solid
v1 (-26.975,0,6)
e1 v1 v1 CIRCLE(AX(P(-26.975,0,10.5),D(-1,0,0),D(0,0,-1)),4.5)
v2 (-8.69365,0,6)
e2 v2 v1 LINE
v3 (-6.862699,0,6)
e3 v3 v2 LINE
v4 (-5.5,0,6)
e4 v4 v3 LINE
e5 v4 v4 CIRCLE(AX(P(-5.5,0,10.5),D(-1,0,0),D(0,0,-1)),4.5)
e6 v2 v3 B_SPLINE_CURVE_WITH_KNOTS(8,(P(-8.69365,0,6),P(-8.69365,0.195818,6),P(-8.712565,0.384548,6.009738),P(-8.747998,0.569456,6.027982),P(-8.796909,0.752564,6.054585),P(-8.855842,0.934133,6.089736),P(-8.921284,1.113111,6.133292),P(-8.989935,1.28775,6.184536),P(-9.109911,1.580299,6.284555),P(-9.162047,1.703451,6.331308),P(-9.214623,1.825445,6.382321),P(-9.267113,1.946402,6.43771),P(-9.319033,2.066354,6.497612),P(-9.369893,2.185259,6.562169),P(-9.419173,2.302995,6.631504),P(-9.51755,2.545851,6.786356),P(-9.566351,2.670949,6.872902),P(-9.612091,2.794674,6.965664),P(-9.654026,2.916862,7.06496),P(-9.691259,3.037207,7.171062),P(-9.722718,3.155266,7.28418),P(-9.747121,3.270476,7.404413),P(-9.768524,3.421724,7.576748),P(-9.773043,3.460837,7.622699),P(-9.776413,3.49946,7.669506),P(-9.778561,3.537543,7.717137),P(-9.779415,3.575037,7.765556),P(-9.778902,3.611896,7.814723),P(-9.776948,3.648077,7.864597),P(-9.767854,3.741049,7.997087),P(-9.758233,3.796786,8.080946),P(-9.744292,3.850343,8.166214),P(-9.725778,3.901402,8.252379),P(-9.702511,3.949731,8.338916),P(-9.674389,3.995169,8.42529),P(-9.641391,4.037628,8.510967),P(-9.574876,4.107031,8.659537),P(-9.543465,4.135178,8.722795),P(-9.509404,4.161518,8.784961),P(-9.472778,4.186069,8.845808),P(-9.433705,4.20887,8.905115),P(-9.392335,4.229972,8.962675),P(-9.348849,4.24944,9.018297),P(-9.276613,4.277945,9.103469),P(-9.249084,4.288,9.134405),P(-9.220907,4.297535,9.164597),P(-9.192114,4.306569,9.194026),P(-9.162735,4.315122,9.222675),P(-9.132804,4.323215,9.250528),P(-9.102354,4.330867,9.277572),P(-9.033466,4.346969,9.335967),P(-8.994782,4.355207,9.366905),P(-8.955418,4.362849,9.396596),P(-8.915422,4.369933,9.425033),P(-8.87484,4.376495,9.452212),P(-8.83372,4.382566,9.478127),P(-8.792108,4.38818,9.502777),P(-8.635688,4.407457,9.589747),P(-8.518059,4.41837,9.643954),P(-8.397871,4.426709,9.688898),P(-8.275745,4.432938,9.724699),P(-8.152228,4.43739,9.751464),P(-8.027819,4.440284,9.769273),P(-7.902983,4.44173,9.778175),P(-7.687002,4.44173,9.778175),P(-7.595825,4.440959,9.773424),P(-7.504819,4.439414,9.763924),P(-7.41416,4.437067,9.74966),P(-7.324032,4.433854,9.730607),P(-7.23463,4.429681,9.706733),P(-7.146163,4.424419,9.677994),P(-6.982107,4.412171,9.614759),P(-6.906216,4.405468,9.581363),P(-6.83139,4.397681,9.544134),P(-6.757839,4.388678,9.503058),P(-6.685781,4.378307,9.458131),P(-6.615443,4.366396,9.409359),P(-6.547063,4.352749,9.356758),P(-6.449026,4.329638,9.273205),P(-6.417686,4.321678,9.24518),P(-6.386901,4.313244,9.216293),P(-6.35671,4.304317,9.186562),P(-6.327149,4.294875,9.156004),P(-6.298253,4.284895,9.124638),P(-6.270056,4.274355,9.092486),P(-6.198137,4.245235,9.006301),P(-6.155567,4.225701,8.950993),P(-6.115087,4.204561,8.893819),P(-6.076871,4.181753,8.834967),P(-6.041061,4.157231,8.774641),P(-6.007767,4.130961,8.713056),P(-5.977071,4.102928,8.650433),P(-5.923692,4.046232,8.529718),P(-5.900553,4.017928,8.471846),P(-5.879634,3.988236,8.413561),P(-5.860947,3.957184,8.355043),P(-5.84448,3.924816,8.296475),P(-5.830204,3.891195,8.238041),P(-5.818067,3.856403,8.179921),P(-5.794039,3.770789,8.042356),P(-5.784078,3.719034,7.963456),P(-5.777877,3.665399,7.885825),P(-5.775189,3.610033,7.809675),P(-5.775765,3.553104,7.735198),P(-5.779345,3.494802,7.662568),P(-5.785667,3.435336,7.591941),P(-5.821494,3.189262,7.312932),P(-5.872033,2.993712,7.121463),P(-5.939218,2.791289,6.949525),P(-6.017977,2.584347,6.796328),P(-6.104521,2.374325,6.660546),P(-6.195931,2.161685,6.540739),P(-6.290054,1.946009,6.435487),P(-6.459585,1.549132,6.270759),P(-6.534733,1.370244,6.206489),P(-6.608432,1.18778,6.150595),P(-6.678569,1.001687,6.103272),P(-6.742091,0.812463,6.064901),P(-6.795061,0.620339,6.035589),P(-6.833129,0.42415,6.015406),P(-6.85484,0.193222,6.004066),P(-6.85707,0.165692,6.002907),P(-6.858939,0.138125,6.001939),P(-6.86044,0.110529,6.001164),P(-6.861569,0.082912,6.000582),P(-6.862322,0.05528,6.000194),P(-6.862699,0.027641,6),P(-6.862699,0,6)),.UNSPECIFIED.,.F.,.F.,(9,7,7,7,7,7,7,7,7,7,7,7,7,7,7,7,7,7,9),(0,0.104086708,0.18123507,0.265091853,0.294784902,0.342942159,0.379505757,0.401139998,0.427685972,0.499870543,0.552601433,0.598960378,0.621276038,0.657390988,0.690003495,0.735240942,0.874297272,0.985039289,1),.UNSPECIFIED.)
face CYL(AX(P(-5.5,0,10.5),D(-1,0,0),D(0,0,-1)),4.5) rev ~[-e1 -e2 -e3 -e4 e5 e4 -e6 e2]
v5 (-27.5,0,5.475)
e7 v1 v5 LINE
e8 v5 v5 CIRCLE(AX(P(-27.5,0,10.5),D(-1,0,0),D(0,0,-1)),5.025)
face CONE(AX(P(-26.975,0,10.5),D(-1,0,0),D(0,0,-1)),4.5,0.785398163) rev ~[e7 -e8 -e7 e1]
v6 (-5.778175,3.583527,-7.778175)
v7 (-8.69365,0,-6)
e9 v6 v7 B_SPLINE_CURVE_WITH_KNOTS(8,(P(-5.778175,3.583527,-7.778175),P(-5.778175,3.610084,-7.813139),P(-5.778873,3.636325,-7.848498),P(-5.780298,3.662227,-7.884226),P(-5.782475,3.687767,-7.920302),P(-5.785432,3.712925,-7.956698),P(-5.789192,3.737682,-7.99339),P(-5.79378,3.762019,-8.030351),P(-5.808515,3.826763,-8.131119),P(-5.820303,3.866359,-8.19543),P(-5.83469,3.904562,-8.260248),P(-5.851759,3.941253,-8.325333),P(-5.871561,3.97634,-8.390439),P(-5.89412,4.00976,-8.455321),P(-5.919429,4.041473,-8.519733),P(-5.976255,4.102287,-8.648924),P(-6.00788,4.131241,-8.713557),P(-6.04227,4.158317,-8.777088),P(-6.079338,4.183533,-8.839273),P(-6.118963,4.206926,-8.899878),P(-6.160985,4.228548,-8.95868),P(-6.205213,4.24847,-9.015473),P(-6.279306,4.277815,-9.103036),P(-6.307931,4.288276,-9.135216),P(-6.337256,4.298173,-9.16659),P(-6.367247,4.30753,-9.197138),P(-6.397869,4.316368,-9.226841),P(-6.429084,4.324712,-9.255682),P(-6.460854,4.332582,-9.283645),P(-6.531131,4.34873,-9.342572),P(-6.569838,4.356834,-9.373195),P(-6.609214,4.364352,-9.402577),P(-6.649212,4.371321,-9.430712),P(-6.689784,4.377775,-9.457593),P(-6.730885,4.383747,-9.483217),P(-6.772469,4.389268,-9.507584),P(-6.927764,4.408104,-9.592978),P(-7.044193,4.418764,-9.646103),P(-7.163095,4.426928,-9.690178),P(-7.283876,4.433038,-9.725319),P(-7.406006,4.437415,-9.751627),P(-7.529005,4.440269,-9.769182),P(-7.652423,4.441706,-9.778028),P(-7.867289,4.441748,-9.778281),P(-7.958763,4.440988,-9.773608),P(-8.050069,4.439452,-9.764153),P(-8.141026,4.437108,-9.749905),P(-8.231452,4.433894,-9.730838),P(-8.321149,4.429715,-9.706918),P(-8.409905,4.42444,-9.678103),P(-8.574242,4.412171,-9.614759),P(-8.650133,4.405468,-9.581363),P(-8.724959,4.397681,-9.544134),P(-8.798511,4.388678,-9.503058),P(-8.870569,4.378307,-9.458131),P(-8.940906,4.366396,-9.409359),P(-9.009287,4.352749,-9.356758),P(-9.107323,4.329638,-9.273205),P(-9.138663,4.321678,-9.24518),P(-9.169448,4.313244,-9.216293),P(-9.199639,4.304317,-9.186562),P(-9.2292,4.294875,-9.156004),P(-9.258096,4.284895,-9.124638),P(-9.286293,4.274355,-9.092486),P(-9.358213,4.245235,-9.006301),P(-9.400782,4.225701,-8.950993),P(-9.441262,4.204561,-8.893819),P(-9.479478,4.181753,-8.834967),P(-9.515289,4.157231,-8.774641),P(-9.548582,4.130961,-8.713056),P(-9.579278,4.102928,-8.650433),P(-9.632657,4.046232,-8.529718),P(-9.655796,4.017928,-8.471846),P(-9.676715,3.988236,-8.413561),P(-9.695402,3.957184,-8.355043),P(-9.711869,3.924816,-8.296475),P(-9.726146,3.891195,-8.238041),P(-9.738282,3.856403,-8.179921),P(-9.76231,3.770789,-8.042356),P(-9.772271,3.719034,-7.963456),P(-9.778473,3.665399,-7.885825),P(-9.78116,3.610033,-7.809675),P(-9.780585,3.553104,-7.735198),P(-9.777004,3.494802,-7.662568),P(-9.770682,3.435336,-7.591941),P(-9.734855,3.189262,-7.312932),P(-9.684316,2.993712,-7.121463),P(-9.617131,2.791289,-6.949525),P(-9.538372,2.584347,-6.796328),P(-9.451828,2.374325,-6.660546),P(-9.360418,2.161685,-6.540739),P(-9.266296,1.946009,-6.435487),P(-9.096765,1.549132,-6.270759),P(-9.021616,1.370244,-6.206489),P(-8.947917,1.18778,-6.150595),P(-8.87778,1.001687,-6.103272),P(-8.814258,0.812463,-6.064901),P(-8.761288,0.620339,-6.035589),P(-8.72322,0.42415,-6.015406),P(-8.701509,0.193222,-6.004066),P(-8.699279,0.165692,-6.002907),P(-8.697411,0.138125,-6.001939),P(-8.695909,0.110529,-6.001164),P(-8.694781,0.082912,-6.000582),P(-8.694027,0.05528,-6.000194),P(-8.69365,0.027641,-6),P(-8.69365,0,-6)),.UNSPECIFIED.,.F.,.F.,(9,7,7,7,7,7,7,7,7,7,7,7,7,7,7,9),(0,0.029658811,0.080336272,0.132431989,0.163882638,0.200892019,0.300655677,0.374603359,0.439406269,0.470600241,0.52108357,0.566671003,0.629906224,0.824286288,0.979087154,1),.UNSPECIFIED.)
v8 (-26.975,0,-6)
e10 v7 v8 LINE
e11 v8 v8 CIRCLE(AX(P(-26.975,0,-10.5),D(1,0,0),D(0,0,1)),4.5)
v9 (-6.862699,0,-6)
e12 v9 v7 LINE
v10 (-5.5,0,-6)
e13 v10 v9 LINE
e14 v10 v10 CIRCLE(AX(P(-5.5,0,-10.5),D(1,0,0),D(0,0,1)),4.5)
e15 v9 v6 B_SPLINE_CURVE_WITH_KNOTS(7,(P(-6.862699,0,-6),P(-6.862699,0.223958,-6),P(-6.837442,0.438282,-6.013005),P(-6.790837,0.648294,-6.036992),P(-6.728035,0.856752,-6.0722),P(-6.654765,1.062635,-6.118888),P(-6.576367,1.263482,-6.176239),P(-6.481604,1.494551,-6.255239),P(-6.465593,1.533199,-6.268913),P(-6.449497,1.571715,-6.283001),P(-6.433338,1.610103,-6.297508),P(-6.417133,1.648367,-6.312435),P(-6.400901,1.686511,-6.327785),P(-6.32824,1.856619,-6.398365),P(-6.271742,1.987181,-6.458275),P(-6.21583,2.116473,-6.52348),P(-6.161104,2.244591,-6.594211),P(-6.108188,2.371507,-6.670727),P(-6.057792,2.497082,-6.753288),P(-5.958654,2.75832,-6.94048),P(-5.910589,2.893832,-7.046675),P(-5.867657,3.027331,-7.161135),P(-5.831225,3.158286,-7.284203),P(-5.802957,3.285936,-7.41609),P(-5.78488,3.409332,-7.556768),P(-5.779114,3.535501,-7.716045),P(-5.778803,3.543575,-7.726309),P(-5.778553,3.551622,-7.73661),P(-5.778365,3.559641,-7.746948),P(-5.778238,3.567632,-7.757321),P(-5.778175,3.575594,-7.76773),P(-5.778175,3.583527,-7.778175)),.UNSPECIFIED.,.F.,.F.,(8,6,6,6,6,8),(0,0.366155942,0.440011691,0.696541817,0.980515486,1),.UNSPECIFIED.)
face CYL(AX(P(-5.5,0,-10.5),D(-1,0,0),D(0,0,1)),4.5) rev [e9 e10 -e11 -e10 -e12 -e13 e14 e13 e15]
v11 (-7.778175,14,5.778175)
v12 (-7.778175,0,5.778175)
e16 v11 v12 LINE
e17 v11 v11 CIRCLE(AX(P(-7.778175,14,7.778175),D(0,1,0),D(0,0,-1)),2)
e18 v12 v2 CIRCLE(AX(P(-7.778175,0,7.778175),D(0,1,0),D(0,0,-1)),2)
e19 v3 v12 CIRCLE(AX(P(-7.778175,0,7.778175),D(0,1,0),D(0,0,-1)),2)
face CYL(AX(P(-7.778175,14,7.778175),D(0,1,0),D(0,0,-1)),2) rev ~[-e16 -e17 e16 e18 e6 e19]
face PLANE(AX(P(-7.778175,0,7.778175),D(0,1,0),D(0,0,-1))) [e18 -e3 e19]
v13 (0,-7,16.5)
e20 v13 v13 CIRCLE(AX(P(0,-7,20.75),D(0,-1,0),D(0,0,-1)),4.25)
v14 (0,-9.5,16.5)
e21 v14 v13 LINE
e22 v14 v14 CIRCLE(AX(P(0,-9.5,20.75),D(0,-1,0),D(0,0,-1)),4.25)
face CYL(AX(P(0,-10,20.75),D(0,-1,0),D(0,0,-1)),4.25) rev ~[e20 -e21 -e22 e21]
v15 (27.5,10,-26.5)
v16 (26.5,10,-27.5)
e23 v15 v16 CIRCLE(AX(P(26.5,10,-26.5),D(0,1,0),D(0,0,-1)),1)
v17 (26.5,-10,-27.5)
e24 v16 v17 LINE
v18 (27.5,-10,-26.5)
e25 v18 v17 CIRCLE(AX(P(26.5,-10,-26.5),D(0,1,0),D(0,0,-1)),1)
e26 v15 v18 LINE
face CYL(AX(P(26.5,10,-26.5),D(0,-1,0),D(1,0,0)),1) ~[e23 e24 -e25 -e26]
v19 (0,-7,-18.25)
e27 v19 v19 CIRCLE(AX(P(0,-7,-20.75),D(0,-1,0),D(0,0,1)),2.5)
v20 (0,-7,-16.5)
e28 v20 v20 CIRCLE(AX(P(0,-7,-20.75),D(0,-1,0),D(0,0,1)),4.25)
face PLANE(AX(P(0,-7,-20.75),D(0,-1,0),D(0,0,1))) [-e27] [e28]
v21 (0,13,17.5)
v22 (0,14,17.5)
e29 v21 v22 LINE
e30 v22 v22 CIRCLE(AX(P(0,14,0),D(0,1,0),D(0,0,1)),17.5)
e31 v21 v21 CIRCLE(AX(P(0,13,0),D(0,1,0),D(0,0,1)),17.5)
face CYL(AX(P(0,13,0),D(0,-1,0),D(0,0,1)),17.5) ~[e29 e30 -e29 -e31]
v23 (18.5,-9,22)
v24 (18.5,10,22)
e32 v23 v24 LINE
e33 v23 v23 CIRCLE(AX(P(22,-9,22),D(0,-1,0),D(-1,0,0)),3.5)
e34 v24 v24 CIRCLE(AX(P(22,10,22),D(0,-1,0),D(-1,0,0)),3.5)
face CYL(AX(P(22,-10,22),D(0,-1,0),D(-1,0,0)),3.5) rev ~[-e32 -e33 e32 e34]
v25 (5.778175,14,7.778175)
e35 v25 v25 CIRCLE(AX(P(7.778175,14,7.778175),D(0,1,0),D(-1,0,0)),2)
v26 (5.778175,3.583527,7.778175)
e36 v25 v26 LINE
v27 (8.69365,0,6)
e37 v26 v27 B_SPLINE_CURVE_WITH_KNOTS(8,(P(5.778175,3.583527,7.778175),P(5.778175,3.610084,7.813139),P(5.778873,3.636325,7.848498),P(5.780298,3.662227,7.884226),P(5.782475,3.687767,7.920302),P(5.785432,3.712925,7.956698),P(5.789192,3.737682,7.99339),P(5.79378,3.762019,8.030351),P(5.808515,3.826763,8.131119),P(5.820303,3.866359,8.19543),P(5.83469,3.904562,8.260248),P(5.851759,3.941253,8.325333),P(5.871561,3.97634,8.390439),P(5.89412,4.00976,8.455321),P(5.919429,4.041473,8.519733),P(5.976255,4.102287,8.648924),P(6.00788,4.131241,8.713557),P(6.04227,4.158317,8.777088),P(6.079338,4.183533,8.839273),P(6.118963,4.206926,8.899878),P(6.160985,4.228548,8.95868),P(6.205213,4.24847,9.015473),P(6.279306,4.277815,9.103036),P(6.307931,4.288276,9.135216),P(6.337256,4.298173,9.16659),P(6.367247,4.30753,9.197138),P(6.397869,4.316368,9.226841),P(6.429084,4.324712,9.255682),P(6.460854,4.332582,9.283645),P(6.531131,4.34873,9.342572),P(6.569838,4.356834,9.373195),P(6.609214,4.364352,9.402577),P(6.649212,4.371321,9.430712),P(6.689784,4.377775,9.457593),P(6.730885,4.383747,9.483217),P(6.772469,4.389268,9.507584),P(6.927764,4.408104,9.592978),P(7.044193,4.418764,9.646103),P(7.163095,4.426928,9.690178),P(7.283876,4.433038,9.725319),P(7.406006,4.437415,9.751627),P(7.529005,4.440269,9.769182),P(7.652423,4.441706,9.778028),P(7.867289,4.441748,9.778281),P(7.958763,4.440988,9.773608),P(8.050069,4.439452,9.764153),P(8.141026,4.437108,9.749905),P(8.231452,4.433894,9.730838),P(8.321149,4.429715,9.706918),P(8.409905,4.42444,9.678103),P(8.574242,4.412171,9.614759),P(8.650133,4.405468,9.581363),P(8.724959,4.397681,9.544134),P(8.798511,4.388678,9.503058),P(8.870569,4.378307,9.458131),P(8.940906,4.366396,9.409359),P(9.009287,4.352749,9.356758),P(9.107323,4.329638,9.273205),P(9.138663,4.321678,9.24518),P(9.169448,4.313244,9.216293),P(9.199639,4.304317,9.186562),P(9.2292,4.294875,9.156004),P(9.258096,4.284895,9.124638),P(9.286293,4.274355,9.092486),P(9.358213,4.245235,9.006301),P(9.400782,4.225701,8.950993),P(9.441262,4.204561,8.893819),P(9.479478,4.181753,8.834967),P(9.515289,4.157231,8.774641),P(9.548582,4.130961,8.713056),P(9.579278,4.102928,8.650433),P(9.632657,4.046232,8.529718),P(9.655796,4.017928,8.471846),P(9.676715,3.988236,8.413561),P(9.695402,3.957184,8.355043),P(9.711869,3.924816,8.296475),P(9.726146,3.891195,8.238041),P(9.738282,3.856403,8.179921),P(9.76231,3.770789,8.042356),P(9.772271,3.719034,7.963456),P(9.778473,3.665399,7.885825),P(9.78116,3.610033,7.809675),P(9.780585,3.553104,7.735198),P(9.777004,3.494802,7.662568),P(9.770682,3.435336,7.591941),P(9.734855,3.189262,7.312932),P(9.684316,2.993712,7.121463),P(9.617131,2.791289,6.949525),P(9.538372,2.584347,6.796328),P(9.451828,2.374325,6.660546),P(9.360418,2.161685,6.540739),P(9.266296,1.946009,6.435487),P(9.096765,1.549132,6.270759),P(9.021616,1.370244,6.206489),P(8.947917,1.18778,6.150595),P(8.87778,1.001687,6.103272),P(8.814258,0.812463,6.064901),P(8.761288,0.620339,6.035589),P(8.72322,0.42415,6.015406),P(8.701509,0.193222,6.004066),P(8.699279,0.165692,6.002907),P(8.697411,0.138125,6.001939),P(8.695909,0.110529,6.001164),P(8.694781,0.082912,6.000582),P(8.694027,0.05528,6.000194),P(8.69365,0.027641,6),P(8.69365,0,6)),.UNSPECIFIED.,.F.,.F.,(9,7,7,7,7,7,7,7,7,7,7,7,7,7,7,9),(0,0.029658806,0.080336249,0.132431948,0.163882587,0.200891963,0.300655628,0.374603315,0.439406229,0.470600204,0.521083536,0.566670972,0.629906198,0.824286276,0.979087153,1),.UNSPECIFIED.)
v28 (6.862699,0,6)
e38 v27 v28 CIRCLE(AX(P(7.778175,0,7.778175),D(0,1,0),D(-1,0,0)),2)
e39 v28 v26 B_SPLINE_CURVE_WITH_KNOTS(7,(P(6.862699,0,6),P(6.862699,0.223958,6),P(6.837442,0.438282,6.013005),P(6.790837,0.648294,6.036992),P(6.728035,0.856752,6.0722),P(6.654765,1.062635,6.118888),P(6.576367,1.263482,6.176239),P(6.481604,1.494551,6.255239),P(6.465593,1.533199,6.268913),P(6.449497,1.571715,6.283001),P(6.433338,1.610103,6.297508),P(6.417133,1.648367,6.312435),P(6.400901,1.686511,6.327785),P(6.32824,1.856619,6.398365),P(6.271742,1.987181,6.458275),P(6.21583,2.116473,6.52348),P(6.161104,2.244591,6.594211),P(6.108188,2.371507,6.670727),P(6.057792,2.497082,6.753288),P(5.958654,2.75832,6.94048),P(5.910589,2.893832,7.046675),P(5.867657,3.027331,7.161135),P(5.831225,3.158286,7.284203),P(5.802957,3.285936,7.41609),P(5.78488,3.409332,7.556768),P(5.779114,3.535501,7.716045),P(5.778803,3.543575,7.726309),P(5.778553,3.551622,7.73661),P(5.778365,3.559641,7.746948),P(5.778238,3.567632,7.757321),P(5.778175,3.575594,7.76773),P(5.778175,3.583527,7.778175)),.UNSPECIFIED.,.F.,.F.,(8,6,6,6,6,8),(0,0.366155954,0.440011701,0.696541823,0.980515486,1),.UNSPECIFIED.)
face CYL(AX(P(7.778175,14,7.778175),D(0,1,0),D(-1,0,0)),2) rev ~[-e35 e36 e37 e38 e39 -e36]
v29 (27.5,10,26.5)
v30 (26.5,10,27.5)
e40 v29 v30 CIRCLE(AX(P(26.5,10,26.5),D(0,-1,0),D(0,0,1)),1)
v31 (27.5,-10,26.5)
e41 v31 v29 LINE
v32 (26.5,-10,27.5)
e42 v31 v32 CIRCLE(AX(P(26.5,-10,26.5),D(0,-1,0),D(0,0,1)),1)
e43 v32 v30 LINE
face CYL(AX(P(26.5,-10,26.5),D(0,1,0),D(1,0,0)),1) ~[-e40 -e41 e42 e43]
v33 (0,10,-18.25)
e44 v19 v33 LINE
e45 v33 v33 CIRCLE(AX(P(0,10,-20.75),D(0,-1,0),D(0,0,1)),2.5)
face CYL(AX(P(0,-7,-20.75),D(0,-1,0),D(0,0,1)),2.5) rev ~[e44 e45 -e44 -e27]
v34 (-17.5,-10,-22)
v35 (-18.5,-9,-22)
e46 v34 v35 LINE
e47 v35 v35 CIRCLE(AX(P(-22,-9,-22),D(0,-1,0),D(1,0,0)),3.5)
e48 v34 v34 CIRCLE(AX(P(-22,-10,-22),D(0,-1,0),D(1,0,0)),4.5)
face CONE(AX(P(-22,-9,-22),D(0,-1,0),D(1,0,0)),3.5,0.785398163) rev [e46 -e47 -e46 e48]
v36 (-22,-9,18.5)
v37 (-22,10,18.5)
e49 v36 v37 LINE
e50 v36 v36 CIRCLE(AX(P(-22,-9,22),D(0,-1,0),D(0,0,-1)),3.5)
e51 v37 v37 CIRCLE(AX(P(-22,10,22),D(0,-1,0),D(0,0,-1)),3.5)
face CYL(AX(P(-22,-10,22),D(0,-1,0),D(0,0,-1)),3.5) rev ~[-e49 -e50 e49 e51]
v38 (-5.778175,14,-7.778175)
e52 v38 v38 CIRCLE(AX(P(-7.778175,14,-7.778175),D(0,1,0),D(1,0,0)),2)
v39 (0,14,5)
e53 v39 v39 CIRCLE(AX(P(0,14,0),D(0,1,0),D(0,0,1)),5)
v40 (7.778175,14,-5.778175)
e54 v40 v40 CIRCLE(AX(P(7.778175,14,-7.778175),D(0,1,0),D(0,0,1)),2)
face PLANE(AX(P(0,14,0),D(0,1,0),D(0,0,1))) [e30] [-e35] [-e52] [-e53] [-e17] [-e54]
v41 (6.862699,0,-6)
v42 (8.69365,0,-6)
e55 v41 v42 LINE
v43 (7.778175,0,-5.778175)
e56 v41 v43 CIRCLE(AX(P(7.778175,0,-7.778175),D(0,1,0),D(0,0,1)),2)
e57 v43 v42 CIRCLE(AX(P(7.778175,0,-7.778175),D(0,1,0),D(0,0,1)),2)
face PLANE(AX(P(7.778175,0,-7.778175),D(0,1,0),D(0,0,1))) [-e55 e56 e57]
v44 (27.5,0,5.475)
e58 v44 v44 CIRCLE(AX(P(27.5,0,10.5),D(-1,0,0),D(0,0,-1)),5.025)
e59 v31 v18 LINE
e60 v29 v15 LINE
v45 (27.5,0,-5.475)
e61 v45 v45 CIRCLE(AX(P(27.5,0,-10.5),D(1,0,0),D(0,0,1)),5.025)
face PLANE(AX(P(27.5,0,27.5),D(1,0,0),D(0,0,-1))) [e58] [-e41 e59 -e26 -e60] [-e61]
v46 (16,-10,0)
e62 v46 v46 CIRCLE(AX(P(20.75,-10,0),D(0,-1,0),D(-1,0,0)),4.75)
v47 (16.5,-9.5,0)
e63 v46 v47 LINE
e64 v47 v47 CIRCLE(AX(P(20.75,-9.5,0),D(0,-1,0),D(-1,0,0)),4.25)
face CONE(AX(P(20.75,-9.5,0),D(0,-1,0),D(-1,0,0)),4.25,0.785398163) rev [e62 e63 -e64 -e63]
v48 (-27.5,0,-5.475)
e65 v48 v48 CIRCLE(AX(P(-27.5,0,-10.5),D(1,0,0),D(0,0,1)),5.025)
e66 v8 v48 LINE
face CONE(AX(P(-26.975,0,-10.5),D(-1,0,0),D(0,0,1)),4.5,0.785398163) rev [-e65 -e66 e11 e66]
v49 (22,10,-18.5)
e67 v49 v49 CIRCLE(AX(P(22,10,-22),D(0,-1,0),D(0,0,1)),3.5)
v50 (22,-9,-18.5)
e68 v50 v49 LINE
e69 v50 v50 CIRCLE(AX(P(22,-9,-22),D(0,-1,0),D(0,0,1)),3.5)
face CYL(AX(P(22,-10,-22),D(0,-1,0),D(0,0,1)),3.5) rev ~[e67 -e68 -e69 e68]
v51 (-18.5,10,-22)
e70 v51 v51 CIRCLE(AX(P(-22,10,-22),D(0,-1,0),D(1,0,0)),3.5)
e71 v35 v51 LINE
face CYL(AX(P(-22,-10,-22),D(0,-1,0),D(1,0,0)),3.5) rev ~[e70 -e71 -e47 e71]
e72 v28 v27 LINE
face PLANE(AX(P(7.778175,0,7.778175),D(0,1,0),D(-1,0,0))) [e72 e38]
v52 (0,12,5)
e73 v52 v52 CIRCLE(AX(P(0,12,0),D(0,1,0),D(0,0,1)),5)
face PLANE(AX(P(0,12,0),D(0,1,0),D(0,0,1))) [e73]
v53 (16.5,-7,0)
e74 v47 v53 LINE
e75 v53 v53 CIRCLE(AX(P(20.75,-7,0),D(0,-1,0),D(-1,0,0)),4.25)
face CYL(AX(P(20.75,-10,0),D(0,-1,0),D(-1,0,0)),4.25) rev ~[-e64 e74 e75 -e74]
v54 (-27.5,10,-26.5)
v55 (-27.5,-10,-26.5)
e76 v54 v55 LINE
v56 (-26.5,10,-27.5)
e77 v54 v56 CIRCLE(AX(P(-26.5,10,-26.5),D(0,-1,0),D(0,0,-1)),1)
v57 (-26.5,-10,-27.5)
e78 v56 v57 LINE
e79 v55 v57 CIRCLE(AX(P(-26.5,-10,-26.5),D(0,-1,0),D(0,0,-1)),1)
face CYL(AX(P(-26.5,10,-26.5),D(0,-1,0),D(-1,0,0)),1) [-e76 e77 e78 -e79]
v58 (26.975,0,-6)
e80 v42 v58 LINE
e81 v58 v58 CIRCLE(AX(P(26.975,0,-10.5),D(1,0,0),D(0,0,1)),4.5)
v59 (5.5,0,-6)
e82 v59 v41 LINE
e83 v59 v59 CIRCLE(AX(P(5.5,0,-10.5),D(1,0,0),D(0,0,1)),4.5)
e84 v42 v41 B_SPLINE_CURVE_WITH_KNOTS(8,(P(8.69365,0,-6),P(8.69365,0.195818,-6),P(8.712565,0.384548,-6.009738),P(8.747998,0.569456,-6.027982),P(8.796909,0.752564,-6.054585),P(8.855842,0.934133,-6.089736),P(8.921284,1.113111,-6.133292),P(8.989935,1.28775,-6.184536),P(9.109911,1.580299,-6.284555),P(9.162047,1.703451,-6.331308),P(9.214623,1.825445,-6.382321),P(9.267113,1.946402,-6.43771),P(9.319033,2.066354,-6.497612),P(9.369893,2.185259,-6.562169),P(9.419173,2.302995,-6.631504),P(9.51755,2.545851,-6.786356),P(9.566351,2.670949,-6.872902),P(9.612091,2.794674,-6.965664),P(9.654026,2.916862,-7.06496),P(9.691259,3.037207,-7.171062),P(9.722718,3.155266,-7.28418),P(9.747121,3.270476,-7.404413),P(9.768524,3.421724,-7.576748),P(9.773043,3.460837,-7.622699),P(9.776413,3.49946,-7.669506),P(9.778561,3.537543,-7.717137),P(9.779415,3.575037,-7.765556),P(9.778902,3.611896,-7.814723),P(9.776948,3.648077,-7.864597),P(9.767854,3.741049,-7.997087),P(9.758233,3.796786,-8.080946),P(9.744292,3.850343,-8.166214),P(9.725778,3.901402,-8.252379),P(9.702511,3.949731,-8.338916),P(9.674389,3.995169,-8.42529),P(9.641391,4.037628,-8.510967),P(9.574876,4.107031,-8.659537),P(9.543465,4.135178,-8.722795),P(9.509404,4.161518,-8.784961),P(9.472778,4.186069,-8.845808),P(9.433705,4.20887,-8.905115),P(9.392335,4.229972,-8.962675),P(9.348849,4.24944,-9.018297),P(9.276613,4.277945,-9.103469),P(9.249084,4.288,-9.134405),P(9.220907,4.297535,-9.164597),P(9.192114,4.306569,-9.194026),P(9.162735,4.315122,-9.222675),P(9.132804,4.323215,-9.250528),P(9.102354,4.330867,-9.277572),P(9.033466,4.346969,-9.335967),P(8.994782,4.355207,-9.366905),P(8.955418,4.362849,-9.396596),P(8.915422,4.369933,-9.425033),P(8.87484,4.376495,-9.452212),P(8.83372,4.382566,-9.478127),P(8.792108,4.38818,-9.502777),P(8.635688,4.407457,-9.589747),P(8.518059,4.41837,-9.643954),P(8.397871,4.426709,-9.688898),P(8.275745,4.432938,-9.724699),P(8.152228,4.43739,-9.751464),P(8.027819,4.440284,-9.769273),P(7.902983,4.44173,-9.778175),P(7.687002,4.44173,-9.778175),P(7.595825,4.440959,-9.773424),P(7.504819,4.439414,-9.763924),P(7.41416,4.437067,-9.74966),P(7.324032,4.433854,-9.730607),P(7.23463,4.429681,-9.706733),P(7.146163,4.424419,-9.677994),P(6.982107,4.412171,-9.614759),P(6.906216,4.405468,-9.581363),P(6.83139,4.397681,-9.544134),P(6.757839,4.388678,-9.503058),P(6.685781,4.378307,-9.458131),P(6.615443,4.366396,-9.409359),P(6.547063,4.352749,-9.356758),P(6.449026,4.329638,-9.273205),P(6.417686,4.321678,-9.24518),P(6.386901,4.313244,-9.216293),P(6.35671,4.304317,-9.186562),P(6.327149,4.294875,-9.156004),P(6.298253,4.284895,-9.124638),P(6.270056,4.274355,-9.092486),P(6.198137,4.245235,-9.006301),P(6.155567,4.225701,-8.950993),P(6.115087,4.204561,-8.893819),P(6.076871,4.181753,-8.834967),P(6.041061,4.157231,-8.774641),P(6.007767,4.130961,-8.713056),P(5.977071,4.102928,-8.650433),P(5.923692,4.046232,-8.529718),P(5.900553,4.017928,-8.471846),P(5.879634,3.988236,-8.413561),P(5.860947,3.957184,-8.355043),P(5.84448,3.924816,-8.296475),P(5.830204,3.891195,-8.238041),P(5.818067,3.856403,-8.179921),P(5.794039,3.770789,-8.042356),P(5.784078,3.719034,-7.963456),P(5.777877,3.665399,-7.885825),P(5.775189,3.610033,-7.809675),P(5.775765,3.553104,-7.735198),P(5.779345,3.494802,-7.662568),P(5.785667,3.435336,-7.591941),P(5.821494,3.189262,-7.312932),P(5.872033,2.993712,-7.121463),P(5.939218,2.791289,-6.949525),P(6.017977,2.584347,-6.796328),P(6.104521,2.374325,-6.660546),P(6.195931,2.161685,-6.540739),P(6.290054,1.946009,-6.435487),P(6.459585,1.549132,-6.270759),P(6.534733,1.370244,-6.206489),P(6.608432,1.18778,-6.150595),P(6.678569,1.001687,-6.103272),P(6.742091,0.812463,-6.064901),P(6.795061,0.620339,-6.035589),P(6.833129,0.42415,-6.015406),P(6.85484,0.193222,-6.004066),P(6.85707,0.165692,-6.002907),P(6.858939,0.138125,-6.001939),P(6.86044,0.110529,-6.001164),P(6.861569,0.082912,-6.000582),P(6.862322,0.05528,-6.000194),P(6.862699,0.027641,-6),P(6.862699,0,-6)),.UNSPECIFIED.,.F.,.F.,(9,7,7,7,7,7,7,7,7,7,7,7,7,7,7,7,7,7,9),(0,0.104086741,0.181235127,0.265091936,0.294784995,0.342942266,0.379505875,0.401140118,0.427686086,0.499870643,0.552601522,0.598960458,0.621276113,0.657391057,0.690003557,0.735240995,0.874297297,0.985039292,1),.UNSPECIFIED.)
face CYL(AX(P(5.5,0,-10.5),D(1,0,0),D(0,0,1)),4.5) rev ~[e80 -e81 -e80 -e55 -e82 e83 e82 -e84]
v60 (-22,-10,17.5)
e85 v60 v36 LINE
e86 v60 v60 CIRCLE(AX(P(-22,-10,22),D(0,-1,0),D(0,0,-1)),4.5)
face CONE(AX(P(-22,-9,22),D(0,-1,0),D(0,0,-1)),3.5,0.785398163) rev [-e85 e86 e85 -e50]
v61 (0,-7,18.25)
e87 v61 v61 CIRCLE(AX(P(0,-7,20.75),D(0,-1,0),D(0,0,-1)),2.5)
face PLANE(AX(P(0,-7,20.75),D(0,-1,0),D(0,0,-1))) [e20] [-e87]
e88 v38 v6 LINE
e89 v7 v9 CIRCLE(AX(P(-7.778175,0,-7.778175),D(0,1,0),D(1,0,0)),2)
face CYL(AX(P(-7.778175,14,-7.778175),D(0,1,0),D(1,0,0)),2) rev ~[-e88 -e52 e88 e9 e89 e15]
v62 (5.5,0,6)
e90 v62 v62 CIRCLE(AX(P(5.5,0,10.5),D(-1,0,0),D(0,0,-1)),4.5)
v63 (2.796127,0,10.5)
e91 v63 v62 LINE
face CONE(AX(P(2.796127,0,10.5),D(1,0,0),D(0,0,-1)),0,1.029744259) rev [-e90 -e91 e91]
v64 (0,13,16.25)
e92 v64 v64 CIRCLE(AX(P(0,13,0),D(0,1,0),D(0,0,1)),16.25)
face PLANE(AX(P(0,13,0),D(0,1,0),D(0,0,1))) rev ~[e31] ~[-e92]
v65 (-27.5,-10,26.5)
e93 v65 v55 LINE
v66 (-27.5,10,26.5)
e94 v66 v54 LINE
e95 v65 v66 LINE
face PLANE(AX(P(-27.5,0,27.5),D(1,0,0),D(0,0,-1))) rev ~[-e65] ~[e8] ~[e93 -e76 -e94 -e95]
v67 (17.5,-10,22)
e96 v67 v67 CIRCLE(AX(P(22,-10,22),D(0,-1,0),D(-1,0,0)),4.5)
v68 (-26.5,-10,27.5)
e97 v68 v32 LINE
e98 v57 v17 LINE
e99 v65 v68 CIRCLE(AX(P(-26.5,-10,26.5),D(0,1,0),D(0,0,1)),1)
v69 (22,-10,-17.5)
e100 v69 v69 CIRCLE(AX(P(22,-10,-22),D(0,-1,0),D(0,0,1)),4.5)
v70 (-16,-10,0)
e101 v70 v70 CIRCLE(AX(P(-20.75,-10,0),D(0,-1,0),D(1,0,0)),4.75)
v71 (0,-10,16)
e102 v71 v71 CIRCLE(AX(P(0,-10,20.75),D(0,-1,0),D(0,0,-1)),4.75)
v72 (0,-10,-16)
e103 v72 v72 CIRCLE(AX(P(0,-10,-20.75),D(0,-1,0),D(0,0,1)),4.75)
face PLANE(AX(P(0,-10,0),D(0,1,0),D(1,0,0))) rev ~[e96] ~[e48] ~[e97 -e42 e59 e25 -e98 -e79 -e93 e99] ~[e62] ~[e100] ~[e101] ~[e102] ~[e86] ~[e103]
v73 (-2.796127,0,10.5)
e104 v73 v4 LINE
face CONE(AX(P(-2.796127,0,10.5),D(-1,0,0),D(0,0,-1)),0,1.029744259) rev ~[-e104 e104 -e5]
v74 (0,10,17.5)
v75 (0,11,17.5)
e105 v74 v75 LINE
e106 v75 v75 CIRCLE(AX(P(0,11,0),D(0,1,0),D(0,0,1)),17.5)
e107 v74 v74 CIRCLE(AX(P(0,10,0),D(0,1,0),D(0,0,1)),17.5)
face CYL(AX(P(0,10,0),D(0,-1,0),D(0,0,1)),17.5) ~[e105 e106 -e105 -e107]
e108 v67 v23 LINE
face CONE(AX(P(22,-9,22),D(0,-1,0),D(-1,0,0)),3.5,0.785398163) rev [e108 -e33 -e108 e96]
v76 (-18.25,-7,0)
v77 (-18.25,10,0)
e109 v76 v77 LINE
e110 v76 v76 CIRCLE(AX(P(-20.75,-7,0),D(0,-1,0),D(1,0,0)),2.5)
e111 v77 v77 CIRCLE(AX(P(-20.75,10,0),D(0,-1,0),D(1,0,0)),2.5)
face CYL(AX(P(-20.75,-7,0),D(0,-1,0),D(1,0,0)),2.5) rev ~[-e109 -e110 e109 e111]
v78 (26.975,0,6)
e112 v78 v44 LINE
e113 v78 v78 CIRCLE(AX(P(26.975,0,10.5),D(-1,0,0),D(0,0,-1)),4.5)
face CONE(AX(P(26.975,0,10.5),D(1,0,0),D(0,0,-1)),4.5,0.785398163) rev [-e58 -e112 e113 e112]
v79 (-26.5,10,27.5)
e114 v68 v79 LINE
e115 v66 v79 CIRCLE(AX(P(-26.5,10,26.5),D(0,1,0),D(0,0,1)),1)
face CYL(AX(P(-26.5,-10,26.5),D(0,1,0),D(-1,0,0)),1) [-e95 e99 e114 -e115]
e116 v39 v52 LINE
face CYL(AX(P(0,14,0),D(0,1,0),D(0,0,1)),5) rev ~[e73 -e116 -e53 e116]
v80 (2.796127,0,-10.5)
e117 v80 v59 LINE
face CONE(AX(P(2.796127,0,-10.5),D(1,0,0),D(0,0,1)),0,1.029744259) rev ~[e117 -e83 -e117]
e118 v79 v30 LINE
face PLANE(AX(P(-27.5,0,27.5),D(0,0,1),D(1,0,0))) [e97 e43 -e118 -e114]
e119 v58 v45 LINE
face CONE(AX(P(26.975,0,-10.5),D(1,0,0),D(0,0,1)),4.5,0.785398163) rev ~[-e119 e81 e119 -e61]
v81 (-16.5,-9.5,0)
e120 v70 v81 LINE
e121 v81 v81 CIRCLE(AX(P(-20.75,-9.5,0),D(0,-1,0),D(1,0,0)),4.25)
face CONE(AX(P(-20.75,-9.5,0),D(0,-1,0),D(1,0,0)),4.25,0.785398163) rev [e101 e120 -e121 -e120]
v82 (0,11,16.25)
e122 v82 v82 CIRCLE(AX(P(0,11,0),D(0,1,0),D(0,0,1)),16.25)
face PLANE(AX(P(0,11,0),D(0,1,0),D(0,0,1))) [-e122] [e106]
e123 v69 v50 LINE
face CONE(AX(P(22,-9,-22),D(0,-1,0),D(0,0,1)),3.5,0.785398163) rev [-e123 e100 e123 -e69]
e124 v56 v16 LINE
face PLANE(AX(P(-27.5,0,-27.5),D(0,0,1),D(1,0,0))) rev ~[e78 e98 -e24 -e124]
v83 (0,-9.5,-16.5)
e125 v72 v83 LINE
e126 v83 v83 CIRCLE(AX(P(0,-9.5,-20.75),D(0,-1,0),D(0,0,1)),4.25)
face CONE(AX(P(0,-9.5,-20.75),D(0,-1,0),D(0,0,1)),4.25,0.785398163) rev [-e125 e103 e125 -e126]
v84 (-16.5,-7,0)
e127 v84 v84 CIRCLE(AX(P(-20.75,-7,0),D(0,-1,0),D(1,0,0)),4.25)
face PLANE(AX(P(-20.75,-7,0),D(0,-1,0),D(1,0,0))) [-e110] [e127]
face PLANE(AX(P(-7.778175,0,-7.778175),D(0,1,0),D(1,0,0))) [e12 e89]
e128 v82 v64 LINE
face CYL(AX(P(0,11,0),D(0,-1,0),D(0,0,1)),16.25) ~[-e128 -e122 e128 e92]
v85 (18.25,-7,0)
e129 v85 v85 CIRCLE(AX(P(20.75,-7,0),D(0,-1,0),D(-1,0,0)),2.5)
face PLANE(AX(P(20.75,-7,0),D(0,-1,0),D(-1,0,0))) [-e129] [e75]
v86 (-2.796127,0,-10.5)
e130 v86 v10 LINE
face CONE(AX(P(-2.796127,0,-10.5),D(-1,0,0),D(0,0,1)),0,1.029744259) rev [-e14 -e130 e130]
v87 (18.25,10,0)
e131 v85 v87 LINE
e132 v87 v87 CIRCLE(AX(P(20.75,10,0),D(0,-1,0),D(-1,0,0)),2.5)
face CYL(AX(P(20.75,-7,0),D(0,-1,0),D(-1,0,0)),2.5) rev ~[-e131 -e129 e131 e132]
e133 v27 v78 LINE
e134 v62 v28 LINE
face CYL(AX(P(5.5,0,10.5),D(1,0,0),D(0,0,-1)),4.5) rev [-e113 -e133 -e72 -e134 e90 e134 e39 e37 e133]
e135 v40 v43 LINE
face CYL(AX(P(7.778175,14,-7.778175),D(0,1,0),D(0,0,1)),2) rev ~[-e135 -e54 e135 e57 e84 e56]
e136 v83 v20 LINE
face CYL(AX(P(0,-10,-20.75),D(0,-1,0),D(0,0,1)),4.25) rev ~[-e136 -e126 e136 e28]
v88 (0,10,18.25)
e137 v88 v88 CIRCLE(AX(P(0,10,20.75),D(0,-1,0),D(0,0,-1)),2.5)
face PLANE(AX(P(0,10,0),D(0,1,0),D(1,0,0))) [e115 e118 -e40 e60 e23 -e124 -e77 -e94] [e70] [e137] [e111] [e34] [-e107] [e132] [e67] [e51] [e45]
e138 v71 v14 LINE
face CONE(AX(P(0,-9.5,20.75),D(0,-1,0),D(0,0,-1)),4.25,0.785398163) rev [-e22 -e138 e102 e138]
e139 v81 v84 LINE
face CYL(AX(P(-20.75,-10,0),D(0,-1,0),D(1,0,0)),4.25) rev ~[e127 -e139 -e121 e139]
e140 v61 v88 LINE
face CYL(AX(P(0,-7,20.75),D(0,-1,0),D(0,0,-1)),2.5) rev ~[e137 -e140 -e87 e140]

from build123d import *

# Parameters (mm, degrees)
SKETCH_1_W               = 55
SKETCH_1_H               = 55
EXTRUDE_1_DEPTH          = 10
SKETCH_2_R               = 17.5
EXTRUDE_2_DEPTH          = 1
SKETCH_3_R               = 16.25
EXTRUDE_3_DEPTH          = 2
SKETCH_4_R               = 17.5
EXTRUDE_4_DEPTH          = 1
SKETCH_5_R               = 4.25
CUT_EXTRUDE_1_DEPTH      = 3
SKETCH_6_R               = 2.5
CUT_EXTRUDE_2_DEPTH      = 45.198416261
SKETCH_7_R               = 3.5
CUT_EXTRUDE_3_DEPTH      = 46.700109409
PATTERN_CIRCULAR_1_COUNT = 4
SKETCH_10_R              = 5
CUT_EXTRUDE_4_DEPTH      = 2
SKETCH_11_R              = 2
CUT_EXTRUDE_5_DEPTH      = 14
PATTERN_CIRCULAR_2_COUNT = 4
FILLET_1_R               = 1
CHAMFER_1_SIZE           = 0.5
CHAMFER_2_SIZE           = 1


with BuildPart() as part:
    # 草图1 → 凸台-拉伸1 (new, symmetric)
    with BuildSketch(Plane(origin=(0, 0, 0), x_dir=(1, 0, 0), z_dir=(0, 1, 0))):
        Rectangle(SKETCH_1_W, SKETCH_1_H)
    extrude(amount=EXTRUDE_1_DEPTH, both=True)

    # 草图2 → 凸台-拉伸2 (add)
    with BuildSketch(Plane(origin=(0, 10, 0), x_dir=(1, 0, 0), z_dir=(0, 1, 0))):
        Circle(SKETCH_2_R)
    extrude(amount=EXTRUDE_2_DEPTH)

    # 草图3 → 凸台-拉伸3 (add)
    with BuildSketch(Plane(origin=(0, 11, 0), x_dir=(1, 0, 0), z_dir=(0, 1, 0))):
        Circle(SKETCH_3_R)
    extrude(amount=EXTRUDE_3_DEPTH)

    # 草图4 → 凸台-拉伸4 (add)
    with BuildSketch(Plane(origin=(0, 13, 0), x_dir=(1, 0, 0), z_dir=(0, 1, 0))):
        Circle(SKETCH_4_R)
    extrude(amount=EXTRUDE_4_DEPTH)

    # 草图5 → 切除-拉伸1 (cut)
    with BuildSketch(Plane.XZ.offset(10)):
        with Locations((0, 20.75)):
            Circle(SKETCH_5_R)
    cut_extrude_1 = extrude(amount=-CUT_EXTRUDE_1_DEPTH, mode=Mode.SUBTRACT)

    # 草图6 → 切除-拉伸2 (cut, through all)
    with BuildSketch(Plane.XZ.offset(7)):
        with Locations((0, 20.75)):
            Circle(SKETCH_6_R)
    cut_extrude_2 = extrude(amount=-CUT_EXTRUDE_2_DEPTH, mode=Mode.SUBTRACT)

    # 草图7 → 切除-拉伸3 (cut, through all)
    with BuildSketch(Plane.XZ.offset(10)):
        with Locations((-22, 22)):
            Circle(SKETCH_7_R)
    cut_extrude_3 = extrude(amount=-CUT_EXTRUDE_3_DEPTH, mode=Mode.SUBTRACT)

    # 阵列(圆周)1: 切除-拉伸1, 切除-拉伸2, 切除-拉伸3 ×4 about axis
    pattern_circular_1_axis = Axis((0, 14, 0), (0, -1, 0))
    add([cut_extrude_1.rotate(pattern_circular_1_axis, i * 360 / PATTERN_CIRCULAR_1_COUNT) for i in range(1, PATTERN_CIRCULAR_1_COUNT)], mode=Mode.SUBTRACT)
    add([cut_extrude_2.rotate(pattern_circular_1_axis, i * 360 / PATTERN_CIRCULAR_1_COUNT) for i in range(1, PATTERN_CIRCULAR_1_COUNT)], mode=Mode.SUBTRACT)
    add([cut_extrude_3.rotate(pattern_circular_1_axis, i * 360 / PATTERN_CIRCULAR_1_COUNT) for i in range(1, PATTERN_CIRCULAR_1_COUNT)], mode=Mode.SUBTRACT)

    # 草图9 → M10x1.0 螺纹孔1 (revolve, cut)
    with BuildSketch(Plane(origin=(-27.5, 0, -10.5), x_dir=(0, 0, 1), z_dir=(0, 1, 0))):
        Polygon((0, 0), (0, 24.703872786), (4.5, 22), (4.5, 0.525), (5.025, 0), align=None)
    m10x1_0_1 = revolve(axis=Axis((-33.85, 0, -10.5), (1, 0, 0)), mode=Mode.SUBTRACT)

    # 镜向1: M10x1.0 螺纹孔1 across plane
    add(m10x1_0_1.mirror(Plane(origin=(0, 0, 0), x_dir=(0, 0, 1), z_dir=(1, 0, 0))), mode=Mode.SUBTRACT)

    # 镜向1 at the second plane: M10x1.0 螺纹孔1 across plane
    add(m10x1_0_1.mirror(Plane.XY), mode=Mode.SUBTRACT)

    # 镜向1 at the second plane copy 1 sket → 镜向1 at the second plane copy 1 (revolve, cut)
    with BuildSketch(Plane(origin=(27.5, 0, 10.5), x_dir=(0, 0, -1), z_dir=(0, 1, 0))):
        Polygon((0, 0), (0, 24.703872786), (4.5, 22), (4.5, 0.525), (5.025, 0), align=None)
    revolve(axis=Axis((33.85, 0, 10.5), (-1, 0, 0)), mode=Mode.SUBTRACT)

    # 草图10 → 切除-拉伸4 (cut)
    with BuildSketch(Plane(origin=(0, 14, 0), x_dir=(1, 0, 0), z_dir=(0, 1, 0))):
        Circle(SKETCH_10_R)
    extrude(amount=-CUT_EXTRUDE_4_DEPTH, mode=Mode.SUBTRACT)

    # 草图11 → 切除-拉伸5 (cut)
    with BuildSketch(Plane(origin=(0, 14, 0), x_dir=(1, 0, 0), z_dir=(0, 1, 0))):
        with Locations((7.778174593, 7.778174593)):
            Circle(SKETCH_11_R)
    cut_extrude_5 = extrude(amount=-CUT_EXTRUDE_5_DEPTH, mode=Mode.SUBTRACT)

    # 阵列(圆周)2: 切除-拉伸5 ×4 about axis
    pattern_circular_2_axis = Axis((0, 14, 0), (0, 1, 0))
    for i in range(1, PATTERN_CIRCULAR_2_COUNT):
        add(cut_extrude_5.rotate(pattern_circular_2_axis, i * 360 / PATTERN_CIRCULAR_2_COUNT), mode=Mode.SUBTRACT)

    # 圆角1
    fillet_1_edges = [part.edges().sort_by_distance(p)[0] for p in [
        (-27.5, 0, -27.5),
        (27.5, 0, -27.5),
        (27.5, 0, 27.5),
        (-27.5, 0, 27.5),
    ]]
    fillet(fillet_1_edges, radius=FILLET_1_R)

    # 倒角1
    chamfer_1_edges = [part.edges().sort_by_distance(p)[0] for p in [
        (-20.75, -10, -4.25),
        (4.25, -10, -20.75),
        (-4.25, -10, 20.75),
        (20.75, -10, 4.25),
    ]]
    chamfer(chamfer_1_edges, length=CHAMFER_1_SIZE)

    # 倒角2
    chamfer_2_edges = [part.edges().sort_by_distance(p)[0] for p in [
        (-25.5, -10, 22),
        (-22, -10, -25.5),
        (25.5, -10, -22),
        (22, -10, 25.5),
    ]]
    chamfer(chamfer_2_edges, length=CHAMFER_2_SIZE)


solid = part.part
